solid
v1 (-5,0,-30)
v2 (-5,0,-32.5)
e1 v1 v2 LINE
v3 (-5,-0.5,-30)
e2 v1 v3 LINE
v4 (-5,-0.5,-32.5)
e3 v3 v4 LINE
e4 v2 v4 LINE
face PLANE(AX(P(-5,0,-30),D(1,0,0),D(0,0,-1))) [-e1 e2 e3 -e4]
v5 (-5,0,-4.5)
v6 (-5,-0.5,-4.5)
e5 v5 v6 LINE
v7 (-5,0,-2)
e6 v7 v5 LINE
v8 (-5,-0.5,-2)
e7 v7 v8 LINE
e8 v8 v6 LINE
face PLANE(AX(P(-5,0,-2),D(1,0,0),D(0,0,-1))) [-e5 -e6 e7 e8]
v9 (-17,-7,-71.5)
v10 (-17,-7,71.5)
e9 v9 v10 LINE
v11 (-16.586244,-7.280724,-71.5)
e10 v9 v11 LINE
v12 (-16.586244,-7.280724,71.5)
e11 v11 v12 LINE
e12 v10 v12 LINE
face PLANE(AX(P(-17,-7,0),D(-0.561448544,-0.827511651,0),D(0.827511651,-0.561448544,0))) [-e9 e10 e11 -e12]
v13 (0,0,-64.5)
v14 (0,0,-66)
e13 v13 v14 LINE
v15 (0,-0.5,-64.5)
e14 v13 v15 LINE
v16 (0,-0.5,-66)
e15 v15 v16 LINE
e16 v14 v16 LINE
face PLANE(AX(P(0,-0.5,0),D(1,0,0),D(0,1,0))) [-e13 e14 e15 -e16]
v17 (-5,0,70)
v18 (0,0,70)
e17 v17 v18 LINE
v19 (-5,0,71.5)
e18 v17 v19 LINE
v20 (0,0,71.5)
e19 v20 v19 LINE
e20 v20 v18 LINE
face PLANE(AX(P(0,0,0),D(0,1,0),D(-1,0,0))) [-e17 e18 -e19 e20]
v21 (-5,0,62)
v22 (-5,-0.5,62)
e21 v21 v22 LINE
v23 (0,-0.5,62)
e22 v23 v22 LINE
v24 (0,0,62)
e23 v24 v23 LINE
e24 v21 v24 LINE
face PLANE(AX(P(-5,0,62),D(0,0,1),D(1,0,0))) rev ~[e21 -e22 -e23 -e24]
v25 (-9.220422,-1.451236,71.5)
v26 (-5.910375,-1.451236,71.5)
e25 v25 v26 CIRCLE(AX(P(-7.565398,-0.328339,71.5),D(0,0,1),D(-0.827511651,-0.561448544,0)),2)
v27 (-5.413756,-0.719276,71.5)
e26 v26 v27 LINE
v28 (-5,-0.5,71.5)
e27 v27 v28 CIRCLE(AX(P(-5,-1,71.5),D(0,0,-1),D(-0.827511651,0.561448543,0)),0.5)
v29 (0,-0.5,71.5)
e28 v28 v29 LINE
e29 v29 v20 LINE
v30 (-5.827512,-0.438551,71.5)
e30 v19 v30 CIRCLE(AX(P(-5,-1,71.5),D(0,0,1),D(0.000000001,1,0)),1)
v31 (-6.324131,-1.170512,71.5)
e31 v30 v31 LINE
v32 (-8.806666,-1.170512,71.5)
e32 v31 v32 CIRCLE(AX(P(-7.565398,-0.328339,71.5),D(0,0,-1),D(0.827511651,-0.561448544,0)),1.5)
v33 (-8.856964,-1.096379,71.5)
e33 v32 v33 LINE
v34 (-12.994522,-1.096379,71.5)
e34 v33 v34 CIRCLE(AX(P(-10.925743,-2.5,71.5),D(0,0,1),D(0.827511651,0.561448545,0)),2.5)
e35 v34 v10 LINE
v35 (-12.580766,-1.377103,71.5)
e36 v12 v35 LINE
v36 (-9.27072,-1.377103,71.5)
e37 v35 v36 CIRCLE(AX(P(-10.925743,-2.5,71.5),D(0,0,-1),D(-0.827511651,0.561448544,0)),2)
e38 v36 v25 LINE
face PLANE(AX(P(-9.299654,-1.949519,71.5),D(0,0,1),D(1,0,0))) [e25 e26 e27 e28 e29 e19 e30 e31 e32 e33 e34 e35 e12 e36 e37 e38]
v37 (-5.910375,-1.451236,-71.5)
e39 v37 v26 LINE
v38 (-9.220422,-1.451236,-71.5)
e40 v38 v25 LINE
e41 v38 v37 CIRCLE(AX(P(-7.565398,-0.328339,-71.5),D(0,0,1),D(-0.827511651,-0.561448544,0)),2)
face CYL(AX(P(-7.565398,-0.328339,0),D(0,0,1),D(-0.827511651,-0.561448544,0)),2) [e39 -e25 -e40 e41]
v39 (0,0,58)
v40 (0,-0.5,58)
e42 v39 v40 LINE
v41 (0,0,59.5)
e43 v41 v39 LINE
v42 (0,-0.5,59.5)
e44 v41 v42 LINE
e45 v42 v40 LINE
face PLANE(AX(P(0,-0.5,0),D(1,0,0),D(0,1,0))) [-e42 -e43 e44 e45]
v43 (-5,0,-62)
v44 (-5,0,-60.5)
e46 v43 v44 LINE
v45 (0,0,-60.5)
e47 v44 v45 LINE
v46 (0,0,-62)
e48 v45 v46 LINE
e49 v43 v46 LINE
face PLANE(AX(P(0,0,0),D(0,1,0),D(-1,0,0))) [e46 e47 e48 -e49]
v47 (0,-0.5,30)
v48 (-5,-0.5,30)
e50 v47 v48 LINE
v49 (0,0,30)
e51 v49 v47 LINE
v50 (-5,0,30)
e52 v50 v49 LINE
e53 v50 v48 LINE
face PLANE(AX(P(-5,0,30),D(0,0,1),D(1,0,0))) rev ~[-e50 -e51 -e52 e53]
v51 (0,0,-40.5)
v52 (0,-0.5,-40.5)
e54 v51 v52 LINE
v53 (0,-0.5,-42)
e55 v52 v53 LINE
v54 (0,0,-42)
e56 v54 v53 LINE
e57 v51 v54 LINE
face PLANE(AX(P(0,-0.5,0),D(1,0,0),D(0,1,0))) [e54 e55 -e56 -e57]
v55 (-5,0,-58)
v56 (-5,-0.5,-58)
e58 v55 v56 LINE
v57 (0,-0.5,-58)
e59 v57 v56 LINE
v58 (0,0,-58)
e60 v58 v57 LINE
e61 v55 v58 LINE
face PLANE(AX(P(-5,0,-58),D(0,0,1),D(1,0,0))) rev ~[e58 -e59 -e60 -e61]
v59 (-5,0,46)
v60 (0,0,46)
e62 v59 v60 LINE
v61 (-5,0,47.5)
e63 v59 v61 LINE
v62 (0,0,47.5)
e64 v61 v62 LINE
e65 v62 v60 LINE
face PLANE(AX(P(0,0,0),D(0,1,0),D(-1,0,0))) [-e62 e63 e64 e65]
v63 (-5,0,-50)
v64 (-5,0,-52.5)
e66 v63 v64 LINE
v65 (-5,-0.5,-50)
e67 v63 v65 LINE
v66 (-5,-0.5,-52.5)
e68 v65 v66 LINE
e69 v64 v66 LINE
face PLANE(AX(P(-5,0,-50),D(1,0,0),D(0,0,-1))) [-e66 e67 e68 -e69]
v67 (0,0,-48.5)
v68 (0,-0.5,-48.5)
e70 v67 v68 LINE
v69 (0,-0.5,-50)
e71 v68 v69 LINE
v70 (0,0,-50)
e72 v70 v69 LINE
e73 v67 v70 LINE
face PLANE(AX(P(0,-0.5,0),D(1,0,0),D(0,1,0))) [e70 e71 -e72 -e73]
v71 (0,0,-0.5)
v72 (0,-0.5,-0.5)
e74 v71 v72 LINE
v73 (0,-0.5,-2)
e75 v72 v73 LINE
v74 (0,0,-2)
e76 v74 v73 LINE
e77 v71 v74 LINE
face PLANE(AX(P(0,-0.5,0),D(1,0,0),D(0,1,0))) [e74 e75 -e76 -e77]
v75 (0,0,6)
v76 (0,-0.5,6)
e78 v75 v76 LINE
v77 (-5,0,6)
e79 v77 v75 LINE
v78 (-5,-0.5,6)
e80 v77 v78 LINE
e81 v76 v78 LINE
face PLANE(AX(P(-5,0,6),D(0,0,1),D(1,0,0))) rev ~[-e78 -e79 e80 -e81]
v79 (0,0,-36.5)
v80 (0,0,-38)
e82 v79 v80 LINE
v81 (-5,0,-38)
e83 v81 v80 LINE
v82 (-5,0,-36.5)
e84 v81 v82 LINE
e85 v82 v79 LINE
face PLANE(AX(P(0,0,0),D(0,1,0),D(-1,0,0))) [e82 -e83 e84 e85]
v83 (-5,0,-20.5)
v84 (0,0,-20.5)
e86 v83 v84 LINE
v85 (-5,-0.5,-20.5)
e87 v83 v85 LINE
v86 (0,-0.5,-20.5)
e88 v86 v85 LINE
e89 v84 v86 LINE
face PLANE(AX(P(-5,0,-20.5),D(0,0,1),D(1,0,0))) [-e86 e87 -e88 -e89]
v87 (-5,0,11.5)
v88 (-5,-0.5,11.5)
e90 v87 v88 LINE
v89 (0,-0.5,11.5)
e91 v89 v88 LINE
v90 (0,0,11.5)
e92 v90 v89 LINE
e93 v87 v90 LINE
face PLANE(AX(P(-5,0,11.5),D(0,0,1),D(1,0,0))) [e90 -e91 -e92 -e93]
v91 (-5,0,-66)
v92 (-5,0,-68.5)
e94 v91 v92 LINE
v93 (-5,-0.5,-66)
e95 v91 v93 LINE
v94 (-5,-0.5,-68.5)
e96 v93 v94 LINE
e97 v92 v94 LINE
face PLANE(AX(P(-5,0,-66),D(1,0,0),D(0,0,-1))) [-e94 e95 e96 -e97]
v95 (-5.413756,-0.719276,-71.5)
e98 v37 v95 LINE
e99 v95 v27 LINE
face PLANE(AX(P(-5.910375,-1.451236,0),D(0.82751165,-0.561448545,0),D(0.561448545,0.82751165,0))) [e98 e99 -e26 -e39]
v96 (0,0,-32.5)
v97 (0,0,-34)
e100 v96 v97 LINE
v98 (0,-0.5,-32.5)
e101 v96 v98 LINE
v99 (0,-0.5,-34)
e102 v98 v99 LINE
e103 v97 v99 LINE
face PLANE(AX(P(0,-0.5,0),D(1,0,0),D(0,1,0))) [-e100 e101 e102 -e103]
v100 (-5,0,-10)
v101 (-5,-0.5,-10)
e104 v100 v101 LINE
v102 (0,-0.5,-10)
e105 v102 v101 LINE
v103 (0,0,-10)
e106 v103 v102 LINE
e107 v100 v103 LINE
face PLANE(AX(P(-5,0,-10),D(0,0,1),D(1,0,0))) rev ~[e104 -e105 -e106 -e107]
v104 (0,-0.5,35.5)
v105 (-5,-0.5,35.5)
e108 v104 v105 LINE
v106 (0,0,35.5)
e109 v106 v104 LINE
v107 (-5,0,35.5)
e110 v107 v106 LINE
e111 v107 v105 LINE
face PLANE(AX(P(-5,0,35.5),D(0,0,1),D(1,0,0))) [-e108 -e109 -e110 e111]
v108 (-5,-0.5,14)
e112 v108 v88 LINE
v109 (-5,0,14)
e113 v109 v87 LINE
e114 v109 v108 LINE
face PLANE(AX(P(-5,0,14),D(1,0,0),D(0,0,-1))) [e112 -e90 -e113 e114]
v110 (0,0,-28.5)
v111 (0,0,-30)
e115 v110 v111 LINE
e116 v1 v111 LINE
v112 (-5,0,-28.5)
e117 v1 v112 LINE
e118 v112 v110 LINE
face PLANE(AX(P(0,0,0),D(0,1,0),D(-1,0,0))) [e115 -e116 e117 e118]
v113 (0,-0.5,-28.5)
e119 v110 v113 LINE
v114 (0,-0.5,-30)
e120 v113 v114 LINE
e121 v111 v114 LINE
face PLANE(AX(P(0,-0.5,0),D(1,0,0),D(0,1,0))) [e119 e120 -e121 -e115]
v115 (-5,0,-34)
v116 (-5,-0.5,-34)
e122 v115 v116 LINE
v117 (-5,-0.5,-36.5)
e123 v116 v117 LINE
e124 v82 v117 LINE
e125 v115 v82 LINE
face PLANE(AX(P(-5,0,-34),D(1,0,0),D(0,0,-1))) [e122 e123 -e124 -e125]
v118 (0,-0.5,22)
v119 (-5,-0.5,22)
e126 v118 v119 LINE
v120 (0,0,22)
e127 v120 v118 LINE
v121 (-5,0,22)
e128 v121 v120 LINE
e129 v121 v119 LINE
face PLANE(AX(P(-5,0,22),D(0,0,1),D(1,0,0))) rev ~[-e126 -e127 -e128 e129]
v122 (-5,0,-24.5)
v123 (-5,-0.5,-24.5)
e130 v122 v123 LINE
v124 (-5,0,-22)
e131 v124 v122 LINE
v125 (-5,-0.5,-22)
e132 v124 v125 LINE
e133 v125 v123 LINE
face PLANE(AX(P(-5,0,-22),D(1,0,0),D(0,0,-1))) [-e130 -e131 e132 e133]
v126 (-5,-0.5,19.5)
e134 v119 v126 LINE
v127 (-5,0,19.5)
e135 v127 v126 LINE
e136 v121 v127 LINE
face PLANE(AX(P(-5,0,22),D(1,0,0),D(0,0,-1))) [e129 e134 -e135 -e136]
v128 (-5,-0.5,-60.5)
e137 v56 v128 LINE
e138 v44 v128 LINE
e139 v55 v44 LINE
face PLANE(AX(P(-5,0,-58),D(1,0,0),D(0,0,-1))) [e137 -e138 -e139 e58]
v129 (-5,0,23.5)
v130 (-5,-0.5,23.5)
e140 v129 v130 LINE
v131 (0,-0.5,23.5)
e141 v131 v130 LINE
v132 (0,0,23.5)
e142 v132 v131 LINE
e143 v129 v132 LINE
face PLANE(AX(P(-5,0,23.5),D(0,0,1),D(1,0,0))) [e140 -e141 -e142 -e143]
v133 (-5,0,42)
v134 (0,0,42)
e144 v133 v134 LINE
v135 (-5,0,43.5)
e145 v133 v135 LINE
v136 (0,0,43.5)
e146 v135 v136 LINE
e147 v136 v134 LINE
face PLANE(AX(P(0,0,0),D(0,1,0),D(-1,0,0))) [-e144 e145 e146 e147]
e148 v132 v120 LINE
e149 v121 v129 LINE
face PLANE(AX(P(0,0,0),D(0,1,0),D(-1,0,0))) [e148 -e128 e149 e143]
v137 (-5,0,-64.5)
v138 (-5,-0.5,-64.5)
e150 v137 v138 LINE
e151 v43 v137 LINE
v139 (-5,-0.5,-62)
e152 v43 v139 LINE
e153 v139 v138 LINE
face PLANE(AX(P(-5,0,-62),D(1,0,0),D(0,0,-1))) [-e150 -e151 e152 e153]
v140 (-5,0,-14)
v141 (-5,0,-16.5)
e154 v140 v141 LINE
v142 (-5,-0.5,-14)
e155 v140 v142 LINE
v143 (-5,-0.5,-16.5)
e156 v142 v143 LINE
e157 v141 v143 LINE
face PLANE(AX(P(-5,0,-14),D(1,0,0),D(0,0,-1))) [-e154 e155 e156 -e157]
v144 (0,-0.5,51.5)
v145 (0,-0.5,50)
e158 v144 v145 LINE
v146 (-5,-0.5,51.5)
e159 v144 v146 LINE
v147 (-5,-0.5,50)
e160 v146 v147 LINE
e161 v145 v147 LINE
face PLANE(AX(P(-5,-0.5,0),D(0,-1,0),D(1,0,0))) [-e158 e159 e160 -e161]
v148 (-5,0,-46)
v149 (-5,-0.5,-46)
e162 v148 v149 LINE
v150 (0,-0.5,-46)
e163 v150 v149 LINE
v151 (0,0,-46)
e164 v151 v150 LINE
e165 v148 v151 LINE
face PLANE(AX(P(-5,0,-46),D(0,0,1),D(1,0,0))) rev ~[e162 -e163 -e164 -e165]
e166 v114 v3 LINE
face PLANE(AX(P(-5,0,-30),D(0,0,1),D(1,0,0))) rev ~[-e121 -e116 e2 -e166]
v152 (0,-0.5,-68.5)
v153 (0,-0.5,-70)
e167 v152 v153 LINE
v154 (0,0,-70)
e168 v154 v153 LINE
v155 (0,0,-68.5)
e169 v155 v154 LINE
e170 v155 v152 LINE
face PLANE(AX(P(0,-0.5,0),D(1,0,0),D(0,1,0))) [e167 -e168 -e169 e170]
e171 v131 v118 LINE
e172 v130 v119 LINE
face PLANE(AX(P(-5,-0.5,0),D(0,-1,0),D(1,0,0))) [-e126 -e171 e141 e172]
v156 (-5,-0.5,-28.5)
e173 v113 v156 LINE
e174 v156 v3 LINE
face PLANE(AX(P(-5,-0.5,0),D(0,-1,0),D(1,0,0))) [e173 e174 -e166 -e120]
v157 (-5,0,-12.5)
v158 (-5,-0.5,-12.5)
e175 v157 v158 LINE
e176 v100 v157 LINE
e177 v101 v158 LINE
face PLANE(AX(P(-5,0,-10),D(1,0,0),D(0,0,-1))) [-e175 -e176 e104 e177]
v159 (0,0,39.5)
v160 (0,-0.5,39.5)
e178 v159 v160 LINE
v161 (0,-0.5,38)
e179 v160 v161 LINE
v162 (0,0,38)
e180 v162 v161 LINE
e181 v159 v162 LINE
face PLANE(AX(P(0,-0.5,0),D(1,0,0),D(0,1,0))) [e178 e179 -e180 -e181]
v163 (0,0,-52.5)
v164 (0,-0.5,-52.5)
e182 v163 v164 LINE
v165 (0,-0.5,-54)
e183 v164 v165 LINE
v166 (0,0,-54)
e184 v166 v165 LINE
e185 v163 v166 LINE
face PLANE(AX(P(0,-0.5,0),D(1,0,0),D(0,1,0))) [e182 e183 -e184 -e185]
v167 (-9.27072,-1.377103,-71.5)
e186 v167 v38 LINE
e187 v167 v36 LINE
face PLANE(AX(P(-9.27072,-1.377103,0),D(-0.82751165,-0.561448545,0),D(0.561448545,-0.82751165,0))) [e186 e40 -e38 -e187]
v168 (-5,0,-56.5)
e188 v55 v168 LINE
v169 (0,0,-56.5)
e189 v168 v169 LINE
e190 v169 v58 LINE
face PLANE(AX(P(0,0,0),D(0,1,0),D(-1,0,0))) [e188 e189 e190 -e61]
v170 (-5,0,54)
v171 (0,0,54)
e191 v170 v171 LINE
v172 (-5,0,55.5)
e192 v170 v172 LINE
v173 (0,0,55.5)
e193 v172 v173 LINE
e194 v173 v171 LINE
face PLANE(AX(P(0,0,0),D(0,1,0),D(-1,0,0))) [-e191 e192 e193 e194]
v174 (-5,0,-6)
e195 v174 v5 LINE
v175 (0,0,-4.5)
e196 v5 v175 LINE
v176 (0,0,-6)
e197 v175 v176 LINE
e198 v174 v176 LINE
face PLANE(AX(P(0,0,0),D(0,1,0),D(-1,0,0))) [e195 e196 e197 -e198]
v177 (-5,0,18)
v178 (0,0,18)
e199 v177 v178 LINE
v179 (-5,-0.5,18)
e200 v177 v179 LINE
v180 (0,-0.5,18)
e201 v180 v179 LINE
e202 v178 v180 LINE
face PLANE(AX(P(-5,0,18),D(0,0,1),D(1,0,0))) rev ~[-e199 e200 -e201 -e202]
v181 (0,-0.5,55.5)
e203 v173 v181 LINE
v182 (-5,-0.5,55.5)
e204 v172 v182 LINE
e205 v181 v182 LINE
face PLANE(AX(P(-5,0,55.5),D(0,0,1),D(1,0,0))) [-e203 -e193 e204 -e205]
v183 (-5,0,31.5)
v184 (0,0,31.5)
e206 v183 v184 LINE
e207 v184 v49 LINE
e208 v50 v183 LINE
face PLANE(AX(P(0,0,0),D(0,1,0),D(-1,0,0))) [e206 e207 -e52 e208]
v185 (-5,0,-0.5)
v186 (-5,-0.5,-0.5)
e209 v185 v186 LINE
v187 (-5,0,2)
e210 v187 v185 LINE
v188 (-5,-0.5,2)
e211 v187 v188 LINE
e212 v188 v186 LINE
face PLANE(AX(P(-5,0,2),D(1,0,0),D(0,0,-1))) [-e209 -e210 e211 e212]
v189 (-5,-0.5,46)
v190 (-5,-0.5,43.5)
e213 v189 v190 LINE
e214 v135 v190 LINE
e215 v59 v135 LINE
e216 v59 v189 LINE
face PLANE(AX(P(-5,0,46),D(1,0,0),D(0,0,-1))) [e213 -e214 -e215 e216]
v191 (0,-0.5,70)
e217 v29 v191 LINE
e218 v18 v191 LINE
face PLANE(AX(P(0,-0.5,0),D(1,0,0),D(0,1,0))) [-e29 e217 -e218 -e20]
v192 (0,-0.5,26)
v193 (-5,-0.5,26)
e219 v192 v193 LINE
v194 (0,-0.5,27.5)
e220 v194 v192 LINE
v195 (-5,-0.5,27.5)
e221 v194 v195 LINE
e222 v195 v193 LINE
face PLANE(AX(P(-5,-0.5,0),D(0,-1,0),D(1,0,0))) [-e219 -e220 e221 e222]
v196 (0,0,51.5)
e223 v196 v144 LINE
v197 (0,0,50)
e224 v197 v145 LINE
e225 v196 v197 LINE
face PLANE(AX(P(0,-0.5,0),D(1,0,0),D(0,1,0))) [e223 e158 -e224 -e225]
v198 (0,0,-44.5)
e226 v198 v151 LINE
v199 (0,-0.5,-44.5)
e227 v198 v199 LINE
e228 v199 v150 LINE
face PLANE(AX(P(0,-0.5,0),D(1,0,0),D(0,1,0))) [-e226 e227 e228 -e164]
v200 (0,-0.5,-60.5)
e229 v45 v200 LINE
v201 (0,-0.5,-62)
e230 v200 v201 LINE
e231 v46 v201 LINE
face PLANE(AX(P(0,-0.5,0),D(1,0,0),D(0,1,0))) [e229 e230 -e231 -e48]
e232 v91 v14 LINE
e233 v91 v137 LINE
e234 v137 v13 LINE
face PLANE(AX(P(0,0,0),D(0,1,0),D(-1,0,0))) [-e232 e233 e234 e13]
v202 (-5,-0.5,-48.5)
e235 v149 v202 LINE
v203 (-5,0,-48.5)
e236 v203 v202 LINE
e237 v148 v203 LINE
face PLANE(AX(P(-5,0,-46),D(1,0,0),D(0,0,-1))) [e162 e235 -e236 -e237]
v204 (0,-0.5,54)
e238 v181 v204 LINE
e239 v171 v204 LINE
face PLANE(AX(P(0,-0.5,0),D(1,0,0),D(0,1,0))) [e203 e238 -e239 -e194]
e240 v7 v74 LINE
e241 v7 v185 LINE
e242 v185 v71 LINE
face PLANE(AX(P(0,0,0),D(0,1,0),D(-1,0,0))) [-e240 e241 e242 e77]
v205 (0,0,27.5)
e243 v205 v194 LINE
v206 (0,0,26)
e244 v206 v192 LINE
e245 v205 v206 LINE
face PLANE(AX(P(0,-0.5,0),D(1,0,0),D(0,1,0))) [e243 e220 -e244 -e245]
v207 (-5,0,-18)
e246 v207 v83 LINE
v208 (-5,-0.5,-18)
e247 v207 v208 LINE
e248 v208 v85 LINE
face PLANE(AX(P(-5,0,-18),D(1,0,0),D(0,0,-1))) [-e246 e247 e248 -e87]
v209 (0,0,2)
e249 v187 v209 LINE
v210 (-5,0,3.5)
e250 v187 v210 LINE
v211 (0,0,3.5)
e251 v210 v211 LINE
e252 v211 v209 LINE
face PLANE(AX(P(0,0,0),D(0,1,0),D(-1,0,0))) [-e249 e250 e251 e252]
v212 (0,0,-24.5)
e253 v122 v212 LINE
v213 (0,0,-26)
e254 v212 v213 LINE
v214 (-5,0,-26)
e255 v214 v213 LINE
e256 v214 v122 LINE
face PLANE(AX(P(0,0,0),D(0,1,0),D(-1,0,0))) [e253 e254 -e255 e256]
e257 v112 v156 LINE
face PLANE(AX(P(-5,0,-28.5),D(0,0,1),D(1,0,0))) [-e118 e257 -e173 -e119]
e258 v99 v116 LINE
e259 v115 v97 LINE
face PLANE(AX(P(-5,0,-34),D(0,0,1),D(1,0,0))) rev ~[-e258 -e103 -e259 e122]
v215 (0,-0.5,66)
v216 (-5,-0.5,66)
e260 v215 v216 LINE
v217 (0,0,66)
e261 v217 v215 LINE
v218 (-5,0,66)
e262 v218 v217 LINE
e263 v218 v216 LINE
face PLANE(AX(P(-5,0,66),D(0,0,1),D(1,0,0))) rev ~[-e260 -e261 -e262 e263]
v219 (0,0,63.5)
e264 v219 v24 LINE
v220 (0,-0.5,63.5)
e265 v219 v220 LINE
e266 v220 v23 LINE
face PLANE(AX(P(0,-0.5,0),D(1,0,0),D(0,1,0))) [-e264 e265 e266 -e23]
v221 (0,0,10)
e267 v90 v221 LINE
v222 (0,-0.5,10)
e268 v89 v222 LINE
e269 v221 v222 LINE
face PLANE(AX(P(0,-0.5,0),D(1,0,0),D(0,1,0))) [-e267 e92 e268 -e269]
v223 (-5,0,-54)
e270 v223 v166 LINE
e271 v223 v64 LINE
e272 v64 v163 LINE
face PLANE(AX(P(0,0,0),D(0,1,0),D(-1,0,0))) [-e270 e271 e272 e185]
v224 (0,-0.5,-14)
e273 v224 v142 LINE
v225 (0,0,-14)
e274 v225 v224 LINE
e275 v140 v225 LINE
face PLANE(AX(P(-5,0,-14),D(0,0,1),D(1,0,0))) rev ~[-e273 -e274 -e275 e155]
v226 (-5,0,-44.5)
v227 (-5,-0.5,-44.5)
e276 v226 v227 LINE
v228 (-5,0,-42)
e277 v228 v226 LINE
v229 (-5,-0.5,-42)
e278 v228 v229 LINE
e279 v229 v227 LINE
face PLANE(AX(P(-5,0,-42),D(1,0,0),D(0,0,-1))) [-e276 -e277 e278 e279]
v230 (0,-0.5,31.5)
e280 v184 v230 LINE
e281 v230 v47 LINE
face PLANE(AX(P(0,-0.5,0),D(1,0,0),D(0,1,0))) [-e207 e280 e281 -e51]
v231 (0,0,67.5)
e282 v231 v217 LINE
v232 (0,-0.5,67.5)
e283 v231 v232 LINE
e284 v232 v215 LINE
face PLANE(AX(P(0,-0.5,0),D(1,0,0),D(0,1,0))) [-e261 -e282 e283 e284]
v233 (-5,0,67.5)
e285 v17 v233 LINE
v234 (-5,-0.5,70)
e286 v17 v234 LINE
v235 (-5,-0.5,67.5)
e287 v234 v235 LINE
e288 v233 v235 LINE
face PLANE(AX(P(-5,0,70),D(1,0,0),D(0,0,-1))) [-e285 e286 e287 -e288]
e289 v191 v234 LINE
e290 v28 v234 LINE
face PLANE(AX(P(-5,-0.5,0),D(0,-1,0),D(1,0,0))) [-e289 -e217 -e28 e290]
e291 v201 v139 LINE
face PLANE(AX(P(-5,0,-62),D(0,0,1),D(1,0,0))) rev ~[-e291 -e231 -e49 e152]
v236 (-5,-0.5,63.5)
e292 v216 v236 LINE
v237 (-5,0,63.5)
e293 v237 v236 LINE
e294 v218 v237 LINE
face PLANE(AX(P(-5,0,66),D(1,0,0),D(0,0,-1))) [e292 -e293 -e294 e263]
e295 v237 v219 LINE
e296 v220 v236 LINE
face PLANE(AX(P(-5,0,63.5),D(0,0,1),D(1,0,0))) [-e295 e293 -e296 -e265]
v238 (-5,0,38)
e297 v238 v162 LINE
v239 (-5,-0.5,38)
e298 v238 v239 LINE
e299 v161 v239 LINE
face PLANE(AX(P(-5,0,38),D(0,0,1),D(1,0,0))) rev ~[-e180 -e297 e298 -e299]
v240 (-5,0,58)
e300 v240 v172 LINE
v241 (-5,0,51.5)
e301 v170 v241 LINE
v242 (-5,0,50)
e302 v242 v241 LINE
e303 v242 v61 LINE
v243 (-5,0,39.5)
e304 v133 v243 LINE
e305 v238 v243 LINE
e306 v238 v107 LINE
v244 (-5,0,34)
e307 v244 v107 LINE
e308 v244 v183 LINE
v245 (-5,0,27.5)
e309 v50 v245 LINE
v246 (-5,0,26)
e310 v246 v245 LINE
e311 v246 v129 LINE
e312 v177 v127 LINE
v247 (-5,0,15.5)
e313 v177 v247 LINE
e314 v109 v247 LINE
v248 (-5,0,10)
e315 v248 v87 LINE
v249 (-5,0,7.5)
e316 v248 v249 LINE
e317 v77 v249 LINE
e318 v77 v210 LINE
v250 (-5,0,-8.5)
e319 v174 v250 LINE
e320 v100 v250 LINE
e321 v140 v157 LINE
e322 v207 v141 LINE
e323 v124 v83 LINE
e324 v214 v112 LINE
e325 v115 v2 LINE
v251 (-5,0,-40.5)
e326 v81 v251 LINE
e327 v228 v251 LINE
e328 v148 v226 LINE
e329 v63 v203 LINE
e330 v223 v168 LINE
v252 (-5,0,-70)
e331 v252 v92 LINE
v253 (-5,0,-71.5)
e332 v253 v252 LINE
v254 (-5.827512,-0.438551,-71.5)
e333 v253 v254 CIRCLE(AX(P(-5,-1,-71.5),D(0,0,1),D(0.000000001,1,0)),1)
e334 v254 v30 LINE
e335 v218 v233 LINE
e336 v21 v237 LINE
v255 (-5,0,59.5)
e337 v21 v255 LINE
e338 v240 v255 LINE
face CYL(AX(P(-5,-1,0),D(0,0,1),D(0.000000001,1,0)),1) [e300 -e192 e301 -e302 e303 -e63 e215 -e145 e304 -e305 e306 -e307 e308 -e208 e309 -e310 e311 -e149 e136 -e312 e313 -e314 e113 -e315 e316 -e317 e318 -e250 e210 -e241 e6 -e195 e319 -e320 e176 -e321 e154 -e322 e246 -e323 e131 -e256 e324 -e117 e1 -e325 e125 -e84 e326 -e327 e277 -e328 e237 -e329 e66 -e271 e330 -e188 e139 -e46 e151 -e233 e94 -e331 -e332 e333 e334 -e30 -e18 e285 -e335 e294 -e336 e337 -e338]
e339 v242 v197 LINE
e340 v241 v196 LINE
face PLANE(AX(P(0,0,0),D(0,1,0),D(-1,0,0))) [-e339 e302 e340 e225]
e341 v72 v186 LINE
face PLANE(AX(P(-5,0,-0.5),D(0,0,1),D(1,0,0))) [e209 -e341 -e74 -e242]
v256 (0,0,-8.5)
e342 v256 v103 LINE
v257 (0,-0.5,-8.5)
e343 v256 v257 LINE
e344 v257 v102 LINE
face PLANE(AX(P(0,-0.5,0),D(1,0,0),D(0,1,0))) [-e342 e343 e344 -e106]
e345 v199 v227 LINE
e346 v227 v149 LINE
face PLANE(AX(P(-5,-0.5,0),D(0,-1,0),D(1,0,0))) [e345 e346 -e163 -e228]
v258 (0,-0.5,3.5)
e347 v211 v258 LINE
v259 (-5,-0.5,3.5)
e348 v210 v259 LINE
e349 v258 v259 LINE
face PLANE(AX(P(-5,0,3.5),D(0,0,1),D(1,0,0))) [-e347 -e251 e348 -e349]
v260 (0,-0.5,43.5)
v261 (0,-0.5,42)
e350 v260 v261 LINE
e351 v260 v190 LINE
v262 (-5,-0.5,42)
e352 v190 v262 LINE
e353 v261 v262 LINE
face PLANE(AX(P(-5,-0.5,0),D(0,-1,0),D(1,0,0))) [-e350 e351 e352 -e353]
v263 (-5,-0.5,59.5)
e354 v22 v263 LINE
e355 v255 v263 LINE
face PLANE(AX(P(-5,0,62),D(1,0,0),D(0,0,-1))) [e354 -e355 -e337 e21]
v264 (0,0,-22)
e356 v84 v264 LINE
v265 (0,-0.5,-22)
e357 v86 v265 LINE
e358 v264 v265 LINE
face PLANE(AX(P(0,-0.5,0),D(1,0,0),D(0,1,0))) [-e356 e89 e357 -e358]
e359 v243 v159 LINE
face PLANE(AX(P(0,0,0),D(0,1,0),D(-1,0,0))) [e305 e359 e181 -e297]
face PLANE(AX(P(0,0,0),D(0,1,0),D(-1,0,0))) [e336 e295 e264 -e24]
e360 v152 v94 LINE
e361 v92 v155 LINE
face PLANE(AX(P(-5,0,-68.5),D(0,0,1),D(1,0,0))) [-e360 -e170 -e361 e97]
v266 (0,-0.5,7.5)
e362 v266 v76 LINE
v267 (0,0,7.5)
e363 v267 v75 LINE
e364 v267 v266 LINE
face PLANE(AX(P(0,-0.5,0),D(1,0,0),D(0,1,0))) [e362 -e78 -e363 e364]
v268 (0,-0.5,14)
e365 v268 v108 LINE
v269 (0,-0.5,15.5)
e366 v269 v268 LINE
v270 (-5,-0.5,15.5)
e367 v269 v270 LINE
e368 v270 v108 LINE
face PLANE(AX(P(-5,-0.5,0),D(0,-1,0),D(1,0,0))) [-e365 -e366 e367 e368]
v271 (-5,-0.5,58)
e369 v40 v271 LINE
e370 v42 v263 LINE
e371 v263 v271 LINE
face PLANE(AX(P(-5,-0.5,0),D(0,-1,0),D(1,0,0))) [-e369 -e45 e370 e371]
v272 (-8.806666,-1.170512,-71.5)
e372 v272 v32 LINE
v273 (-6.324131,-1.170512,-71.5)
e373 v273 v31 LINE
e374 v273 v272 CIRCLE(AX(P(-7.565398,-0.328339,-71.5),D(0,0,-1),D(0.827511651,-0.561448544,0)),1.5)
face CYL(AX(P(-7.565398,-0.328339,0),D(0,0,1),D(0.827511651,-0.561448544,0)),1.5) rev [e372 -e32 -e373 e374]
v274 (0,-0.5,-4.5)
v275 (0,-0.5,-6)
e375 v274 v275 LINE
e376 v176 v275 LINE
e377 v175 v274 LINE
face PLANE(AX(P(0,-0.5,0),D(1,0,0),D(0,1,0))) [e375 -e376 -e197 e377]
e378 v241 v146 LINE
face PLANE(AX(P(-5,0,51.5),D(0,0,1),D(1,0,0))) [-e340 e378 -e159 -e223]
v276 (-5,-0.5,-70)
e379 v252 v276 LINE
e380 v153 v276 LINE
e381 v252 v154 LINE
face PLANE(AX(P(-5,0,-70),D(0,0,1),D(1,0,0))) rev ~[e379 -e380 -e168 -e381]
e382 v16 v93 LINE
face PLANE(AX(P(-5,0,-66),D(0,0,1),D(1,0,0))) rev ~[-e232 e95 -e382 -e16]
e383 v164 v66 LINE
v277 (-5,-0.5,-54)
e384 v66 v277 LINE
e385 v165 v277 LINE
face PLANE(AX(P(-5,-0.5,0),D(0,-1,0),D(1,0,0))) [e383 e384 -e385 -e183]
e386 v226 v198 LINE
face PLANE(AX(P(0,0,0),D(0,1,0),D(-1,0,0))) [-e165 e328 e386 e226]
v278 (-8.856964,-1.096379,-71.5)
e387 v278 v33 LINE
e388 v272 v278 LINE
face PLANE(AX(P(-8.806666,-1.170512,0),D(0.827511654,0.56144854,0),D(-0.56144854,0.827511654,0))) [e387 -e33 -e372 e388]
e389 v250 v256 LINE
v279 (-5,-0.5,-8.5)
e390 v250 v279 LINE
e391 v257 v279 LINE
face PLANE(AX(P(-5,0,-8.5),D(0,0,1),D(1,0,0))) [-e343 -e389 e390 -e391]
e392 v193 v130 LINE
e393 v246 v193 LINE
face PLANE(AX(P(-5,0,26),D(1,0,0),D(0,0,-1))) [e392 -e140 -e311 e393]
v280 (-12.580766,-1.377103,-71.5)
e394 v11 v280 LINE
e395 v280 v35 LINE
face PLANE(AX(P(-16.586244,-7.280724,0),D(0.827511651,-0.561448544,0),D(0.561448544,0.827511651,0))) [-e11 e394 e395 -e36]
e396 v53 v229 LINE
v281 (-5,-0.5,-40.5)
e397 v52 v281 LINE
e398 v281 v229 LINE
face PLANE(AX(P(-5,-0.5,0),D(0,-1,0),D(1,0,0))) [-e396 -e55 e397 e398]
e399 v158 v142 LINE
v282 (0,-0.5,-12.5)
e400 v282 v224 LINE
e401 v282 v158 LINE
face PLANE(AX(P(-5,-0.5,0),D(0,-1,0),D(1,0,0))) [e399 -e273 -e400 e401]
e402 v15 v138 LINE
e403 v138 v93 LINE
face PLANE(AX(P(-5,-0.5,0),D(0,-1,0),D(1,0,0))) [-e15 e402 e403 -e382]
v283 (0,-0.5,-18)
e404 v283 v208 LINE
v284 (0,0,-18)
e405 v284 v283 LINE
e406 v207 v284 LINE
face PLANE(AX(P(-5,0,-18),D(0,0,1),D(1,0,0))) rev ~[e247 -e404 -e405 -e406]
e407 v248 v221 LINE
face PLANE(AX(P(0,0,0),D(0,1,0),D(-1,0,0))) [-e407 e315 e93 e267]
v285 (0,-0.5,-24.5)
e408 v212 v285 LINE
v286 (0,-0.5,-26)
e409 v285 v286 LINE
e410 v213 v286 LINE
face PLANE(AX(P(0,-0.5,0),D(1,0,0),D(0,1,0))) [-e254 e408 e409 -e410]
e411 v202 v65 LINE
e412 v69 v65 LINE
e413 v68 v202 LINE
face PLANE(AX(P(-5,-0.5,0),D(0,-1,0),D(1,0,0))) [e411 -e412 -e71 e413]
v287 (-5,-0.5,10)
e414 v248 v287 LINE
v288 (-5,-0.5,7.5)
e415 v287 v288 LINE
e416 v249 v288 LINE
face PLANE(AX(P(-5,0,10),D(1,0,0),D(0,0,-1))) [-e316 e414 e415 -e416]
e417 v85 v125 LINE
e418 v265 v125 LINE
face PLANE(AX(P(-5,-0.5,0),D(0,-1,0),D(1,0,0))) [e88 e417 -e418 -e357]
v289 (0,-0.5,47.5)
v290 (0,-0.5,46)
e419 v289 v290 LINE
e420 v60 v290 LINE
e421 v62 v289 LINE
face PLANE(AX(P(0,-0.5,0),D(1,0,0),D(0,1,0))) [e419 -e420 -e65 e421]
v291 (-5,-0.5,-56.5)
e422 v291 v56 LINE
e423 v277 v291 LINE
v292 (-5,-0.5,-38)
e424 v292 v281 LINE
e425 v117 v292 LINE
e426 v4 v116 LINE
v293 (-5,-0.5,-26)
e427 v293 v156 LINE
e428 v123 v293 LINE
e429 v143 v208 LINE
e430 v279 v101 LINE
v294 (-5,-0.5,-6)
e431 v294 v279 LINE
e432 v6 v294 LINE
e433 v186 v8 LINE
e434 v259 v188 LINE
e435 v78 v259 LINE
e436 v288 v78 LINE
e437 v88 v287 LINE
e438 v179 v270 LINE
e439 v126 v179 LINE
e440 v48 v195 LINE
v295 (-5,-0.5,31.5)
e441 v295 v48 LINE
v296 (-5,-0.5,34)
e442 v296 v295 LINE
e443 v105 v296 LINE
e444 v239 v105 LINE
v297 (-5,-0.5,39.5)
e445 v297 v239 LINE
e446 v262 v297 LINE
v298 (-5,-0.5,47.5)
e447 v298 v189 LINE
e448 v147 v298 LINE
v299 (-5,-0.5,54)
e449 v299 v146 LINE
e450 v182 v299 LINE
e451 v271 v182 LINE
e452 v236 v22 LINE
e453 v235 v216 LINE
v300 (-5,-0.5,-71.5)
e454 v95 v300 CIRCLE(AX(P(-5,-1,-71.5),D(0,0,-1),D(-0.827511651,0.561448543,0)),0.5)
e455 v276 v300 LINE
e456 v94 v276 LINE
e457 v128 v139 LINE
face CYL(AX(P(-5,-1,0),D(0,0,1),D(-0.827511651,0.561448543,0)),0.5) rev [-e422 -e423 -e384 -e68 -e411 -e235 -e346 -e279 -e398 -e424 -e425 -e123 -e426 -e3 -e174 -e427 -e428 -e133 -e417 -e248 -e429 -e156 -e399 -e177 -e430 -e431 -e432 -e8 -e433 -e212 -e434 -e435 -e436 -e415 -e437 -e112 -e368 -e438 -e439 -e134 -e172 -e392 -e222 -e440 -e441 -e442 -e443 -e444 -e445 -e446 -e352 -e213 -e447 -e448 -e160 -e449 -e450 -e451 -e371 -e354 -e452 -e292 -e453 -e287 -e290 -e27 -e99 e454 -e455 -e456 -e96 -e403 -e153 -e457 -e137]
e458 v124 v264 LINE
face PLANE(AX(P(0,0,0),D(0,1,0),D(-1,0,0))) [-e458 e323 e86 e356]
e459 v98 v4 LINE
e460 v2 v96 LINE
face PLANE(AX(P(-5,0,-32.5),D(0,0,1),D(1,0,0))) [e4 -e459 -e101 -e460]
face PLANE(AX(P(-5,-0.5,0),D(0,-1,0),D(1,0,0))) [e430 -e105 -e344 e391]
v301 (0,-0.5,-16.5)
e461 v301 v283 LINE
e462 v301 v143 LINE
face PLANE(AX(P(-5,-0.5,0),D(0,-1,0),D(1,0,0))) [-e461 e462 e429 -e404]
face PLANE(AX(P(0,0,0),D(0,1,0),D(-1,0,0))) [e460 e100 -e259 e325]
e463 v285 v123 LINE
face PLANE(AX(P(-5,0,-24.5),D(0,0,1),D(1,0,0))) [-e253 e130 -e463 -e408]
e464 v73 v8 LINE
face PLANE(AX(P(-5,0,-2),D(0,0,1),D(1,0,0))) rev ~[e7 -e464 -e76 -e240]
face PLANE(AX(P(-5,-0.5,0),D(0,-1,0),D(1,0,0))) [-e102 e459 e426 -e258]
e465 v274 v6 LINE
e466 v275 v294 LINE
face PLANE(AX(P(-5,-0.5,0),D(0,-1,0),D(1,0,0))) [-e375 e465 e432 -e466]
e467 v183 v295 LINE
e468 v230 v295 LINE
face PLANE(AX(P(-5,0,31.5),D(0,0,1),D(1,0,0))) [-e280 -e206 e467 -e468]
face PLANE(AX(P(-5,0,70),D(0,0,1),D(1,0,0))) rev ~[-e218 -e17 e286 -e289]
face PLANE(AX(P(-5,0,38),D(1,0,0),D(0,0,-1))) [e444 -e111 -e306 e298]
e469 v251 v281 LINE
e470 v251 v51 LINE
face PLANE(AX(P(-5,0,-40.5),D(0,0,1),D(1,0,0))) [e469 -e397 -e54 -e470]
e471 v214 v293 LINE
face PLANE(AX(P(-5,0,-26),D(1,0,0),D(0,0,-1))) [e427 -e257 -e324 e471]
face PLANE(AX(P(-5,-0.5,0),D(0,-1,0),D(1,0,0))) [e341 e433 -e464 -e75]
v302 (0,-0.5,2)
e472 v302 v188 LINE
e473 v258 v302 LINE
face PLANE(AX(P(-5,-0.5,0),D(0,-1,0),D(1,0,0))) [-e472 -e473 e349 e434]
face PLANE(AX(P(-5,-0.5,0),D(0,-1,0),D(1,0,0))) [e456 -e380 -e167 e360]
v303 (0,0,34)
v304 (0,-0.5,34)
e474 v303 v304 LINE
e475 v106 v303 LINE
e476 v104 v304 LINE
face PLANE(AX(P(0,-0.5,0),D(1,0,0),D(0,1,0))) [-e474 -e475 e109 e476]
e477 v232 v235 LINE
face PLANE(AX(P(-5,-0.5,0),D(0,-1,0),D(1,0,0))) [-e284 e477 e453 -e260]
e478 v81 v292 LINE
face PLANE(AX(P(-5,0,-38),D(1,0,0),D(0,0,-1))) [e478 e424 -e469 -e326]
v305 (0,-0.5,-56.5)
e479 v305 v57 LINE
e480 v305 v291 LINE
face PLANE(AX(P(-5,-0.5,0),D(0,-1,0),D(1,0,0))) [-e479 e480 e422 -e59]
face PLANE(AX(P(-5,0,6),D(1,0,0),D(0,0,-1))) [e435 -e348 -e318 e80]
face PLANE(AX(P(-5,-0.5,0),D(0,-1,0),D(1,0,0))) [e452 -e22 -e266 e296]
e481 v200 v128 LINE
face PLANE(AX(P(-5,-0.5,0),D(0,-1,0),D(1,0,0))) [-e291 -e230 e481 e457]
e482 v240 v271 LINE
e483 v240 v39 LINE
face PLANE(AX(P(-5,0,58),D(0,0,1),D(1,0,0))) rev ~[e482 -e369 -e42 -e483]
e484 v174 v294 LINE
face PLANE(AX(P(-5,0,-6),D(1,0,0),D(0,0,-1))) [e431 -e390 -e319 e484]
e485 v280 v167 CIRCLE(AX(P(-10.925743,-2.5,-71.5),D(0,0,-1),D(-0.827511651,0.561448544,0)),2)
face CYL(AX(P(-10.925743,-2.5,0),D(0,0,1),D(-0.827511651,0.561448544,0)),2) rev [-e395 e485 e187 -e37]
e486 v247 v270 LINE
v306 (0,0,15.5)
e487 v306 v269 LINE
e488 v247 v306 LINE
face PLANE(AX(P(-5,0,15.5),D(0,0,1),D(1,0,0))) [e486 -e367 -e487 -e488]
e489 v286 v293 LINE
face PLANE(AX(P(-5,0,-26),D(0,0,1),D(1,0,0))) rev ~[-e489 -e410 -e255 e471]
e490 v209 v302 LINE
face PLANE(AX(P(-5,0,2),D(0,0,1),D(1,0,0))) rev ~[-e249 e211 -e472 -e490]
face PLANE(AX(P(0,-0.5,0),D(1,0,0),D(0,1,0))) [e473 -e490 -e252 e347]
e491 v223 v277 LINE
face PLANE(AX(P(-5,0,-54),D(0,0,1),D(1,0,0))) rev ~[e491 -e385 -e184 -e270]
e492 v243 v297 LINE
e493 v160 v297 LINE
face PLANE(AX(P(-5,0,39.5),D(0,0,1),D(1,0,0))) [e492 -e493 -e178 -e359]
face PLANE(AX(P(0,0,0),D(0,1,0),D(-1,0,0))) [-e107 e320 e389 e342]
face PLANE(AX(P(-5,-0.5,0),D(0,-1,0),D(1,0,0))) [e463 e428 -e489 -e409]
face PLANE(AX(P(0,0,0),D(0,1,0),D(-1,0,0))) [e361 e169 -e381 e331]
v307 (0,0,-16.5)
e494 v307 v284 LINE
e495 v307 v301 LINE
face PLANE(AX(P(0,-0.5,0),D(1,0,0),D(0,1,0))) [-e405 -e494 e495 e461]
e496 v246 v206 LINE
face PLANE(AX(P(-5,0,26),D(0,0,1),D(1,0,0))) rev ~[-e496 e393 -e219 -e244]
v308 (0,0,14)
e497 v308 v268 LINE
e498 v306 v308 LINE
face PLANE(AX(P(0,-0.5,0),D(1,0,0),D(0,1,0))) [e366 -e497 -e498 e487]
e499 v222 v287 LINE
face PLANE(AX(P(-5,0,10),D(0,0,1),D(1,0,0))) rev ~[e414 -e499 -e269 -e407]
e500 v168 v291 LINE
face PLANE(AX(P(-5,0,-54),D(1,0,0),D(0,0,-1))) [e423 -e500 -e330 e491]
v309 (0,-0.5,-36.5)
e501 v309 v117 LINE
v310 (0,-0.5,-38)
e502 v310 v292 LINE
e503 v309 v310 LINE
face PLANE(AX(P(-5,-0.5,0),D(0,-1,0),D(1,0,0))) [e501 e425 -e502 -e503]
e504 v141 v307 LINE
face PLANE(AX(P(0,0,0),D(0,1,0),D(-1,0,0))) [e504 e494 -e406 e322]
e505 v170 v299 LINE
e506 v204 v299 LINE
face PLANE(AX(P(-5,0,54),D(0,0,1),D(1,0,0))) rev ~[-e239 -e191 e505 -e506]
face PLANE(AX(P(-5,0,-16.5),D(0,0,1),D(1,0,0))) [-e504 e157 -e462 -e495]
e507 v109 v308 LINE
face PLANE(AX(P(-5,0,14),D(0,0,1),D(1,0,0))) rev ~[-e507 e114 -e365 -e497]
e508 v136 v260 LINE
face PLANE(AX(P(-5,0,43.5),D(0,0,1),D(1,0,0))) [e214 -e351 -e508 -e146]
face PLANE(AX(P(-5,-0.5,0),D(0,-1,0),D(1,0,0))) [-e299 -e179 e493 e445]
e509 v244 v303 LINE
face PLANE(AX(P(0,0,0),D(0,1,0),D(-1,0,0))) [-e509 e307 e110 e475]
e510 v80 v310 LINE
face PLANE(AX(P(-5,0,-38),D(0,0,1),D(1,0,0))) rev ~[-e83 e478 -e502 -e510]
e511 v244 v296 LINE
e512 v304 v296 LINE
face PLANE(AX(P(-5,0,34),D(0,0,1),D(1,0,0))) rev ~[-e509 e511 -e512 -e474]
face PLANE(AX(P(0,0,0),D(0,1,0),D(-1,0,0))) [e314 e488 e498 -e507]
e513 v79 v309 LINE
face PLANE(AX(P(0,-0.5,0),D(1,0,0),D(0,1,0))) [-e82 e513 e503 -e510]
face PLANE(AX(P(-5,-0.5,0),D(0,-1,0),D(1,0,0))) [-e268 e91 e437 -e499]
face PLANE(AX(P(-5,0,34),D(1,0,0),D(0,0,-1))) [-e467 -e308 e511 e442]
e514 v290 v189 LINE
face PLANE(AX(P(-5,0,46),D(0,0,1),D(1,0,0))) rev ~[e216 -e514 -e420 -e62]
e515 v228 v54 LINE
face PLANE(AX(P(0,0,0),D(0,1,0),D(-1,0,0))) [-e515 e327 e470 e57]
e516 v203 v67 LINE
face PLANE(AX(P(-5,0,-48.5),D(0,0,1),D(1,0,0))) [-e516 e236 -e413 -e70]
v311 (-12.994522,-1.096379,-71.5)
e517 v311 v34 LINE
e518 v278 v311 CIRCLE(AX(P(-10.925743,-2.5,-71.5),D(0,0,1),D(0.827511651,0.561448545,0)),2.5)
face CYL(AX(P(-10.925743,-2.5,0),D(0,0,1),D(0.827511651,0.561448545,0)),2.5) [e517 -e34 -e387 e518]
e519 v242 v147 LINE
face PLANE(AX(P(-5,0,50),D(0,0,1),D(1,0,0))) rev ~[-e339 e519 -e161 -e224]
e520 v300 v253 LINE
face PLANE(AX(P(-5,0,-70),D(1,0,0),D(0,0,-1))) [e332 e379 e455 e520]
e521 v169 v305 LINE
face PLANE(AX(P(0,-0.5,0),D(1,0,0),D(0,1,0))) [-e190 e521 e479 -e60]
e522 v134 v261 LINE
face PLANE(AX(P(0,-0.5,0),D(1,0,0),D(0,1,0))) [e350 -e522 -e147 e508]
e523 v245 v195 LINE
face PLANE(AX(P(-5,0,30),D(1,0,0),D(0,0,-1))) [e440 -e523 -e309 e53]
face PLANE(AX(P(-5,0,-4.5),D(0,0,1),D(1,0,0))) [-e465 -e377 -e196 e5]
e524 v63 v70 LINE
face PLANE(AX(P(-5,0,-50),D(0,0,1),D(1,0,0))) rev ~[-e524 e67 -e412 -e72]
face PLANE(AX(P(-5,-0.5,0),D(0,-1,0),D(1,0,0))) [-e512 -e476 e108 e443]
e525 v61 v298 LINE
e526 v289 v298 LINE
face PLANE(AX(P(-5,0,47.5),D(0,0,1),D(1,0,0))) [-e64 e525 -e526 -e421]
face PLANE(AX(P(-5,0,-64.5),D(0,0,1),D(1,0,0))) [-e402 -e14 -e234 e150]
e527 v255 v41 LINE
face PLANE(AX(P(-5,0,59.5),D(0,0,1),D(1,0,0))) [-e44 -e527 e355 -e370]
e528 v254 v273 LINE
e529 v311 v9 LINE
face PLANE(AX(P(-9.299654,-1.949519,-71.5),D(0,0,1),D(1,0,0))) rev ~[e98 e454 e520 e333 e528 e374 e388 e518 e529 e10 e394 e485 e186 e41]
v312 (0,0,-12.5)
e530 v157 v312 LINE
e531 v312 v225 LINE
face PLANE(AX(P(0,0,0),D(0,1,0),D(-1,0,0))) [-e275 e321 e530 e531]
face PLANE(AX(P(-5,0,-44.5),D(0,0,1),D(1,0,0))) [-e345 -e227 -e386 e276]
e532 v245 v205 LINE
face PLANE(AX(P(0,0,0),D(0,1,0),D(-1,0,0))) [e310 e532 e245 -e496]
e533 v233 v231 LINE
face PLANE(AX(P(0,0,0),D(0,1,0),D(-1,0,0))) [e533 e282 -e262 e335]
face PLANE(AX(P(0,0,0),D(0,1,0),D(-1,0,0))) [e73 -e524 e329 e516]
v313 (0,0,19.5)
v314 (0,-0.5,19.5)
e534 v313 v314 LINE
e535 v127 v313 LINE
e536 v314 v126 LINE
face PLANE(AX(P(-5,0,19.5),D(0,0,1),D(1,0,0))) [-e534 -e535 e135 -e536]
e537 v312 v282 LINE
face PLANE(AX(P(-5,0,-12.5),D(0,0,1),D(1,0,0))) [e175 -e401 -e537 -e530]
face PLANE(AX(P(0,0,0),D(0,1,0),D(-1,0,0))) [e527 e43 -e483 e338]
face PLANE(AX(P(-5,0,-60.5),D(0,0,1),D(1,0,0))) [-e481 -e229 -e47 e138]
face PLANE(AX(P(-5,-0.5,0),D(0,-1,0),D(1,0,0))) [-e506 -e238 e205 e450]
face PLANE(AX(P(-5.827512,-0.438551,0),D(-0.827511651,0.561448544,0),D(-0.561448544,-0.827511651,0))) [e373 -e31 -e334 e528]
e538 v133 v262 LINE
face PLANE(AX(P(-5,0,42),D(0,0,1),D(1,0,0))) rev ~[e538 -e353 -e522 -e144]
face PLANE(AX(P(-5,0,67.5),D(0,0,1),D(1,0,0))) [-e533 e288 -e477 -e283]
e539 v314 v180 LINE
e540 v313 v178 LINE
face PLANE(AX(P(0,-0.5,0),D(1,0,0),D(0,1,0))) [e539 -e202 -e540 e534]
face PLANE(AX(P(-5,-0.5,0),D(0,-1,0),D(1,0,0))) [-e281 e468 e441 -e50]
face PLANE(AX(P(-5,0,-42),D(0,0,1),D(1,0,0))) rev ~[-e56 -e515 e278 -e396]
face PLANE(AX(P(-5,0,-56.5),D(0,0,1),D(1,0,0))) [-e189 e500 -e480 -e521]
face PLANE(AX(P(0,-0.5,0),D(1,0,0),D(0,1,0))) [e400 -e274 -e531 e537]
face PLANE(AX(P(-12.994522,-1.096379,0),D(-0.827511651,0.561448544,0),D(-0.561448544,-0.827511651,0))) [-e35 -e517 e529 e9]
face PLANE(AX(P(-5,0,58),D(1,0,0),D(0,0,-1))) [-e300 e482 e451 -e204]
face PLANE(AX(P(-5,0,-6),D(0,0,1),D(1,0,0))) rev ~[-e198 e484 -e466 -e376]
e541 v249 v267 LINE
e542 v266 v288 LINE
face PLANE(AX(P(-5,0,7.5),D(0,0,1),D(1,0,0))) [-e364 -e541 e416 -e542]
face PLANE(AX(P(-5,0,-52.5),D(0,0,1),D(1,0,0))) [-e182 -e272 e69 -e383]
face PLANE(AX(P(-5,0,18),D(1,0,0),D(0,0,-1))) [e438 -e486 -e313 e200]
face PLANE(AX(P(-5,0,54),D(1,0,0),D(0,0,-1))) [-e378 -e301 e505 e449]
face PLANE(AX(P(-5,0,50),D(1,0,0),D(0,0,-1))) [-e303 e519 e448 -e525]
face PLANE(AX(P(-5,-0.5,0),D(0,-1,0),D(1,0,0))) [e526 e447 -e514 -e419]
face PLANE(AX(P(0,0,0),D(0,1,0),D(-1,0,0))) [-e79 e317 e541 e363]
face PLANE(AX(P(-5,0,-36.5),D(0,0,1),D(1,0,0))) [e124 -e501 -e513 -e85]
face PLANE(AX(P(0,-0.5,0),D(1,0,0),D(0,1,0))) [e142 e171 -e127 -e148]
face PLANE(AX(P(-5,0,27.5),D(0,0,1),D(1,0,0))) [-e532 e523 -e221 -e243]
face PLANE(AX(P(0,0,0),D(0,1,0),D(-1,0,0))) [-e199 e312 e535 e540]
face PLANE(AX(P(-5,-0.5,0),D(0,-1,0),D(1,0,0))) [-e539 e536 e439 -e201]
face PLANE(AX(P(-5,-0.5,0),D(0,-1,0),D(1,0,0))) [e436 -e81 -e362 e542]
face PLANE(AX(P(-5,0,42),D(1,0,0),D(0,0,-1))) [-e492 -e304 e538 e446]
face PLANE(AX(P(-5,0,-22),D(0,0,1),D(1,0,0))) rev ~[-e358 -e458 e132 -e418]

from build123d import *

# Parameters (mm, degrees)
BOSS_EXTRUDE1_DEPTH = 71.5
SKETCH3_W           = 5
SKETCH3_H           = 2.5
CUT_EXTRUDE1_DEPTH  = 74.85295489
LPATTERN1_COUNT     = 36
LPATTERN1_PITCH     = 4


with BuildPart() as part:
    # Sketch1 → Boss-Extrude1 (new, symmetric)
    with BuildSketch(Plane.XY):
        with BuildLine():
            Line((0, 0), (-5, 0))
            ThreePointArc((-5, 0), (-5.468268863, -0.11641397), (-5.827511651, -0.438551456))
            Line((-5.827511651, -0.438551456), (-6.324130952, -1.170512135))
            ThreePointArc((-6.324130952, -1.170512135), (-7.565398428, -1.828339319), (-8.806665905, -1.170512135))
            Line((-8.806665905, -1.170512135), (-8.856963859, -1.096378639))
            ThreePointArc((-8.856963859, -1.096378639), (-10.925742986, 0), (-12.994522113, -1.096378639))
            Line((-12.994522113, -1.096378639), (-17, -7))
            Line((-17, -7), (-16.586244175, -7.280724272))
            Line((-16.586244175, -7.280724272), (-12.580766288, -1.377102912))
            ThreePointArc((-12.580766288, -1.377102912), (-10.925742986, -0.5), (-9.270719684, -1.377102912))
            Line((-9.270719684, -1.377102912), (-9.22042173, -1.451236407))
            ThreePointArc((-9.22042173, -1.451236407), (-7.565398428, -2.328339319), (-5.910375127, -1.451236407))
            Line((-5.910375127, -1.451236407), (-5.413755825, -0.719275728))
            ThreePointArc((-5.413755825, -0.719275728), (-5.234134431, -0.558206985), (-5, -0.5))
            Line((-5, -0.5), (0, -0.5))
            Line((0, -0.5), (0, 0))
        make_face()
    extrude(amount=BOSS_EXTRUDE1_DEPTH, both=True)

    # Sketch3 → Cut-Extrude1 (cut, through all)
    with BuildSketch(Plane(origin=(0, 0, 0), x_dir=(1, 0, 0), z_dir=(0, 1, 0))):
        with Locations((-2.5, -68.75)):
            Rectangle(SKETCH3_W, SKETCH3_H)
    cut_extrude1 = extrude(amount=-CUT_EXTRUDE1_DEPTH, mode=Mode.SUBTRACT)

    # LPattern1: Cut-Extrude1 ×36
    with Locations(*[(0, 0, -i * LPATTERN1_PITCH) for i in range(1, LPATTERN1_COUNT)]):
        add(cut_extrude1, mode=Mode.SUBTRACT)


solid = part.part
